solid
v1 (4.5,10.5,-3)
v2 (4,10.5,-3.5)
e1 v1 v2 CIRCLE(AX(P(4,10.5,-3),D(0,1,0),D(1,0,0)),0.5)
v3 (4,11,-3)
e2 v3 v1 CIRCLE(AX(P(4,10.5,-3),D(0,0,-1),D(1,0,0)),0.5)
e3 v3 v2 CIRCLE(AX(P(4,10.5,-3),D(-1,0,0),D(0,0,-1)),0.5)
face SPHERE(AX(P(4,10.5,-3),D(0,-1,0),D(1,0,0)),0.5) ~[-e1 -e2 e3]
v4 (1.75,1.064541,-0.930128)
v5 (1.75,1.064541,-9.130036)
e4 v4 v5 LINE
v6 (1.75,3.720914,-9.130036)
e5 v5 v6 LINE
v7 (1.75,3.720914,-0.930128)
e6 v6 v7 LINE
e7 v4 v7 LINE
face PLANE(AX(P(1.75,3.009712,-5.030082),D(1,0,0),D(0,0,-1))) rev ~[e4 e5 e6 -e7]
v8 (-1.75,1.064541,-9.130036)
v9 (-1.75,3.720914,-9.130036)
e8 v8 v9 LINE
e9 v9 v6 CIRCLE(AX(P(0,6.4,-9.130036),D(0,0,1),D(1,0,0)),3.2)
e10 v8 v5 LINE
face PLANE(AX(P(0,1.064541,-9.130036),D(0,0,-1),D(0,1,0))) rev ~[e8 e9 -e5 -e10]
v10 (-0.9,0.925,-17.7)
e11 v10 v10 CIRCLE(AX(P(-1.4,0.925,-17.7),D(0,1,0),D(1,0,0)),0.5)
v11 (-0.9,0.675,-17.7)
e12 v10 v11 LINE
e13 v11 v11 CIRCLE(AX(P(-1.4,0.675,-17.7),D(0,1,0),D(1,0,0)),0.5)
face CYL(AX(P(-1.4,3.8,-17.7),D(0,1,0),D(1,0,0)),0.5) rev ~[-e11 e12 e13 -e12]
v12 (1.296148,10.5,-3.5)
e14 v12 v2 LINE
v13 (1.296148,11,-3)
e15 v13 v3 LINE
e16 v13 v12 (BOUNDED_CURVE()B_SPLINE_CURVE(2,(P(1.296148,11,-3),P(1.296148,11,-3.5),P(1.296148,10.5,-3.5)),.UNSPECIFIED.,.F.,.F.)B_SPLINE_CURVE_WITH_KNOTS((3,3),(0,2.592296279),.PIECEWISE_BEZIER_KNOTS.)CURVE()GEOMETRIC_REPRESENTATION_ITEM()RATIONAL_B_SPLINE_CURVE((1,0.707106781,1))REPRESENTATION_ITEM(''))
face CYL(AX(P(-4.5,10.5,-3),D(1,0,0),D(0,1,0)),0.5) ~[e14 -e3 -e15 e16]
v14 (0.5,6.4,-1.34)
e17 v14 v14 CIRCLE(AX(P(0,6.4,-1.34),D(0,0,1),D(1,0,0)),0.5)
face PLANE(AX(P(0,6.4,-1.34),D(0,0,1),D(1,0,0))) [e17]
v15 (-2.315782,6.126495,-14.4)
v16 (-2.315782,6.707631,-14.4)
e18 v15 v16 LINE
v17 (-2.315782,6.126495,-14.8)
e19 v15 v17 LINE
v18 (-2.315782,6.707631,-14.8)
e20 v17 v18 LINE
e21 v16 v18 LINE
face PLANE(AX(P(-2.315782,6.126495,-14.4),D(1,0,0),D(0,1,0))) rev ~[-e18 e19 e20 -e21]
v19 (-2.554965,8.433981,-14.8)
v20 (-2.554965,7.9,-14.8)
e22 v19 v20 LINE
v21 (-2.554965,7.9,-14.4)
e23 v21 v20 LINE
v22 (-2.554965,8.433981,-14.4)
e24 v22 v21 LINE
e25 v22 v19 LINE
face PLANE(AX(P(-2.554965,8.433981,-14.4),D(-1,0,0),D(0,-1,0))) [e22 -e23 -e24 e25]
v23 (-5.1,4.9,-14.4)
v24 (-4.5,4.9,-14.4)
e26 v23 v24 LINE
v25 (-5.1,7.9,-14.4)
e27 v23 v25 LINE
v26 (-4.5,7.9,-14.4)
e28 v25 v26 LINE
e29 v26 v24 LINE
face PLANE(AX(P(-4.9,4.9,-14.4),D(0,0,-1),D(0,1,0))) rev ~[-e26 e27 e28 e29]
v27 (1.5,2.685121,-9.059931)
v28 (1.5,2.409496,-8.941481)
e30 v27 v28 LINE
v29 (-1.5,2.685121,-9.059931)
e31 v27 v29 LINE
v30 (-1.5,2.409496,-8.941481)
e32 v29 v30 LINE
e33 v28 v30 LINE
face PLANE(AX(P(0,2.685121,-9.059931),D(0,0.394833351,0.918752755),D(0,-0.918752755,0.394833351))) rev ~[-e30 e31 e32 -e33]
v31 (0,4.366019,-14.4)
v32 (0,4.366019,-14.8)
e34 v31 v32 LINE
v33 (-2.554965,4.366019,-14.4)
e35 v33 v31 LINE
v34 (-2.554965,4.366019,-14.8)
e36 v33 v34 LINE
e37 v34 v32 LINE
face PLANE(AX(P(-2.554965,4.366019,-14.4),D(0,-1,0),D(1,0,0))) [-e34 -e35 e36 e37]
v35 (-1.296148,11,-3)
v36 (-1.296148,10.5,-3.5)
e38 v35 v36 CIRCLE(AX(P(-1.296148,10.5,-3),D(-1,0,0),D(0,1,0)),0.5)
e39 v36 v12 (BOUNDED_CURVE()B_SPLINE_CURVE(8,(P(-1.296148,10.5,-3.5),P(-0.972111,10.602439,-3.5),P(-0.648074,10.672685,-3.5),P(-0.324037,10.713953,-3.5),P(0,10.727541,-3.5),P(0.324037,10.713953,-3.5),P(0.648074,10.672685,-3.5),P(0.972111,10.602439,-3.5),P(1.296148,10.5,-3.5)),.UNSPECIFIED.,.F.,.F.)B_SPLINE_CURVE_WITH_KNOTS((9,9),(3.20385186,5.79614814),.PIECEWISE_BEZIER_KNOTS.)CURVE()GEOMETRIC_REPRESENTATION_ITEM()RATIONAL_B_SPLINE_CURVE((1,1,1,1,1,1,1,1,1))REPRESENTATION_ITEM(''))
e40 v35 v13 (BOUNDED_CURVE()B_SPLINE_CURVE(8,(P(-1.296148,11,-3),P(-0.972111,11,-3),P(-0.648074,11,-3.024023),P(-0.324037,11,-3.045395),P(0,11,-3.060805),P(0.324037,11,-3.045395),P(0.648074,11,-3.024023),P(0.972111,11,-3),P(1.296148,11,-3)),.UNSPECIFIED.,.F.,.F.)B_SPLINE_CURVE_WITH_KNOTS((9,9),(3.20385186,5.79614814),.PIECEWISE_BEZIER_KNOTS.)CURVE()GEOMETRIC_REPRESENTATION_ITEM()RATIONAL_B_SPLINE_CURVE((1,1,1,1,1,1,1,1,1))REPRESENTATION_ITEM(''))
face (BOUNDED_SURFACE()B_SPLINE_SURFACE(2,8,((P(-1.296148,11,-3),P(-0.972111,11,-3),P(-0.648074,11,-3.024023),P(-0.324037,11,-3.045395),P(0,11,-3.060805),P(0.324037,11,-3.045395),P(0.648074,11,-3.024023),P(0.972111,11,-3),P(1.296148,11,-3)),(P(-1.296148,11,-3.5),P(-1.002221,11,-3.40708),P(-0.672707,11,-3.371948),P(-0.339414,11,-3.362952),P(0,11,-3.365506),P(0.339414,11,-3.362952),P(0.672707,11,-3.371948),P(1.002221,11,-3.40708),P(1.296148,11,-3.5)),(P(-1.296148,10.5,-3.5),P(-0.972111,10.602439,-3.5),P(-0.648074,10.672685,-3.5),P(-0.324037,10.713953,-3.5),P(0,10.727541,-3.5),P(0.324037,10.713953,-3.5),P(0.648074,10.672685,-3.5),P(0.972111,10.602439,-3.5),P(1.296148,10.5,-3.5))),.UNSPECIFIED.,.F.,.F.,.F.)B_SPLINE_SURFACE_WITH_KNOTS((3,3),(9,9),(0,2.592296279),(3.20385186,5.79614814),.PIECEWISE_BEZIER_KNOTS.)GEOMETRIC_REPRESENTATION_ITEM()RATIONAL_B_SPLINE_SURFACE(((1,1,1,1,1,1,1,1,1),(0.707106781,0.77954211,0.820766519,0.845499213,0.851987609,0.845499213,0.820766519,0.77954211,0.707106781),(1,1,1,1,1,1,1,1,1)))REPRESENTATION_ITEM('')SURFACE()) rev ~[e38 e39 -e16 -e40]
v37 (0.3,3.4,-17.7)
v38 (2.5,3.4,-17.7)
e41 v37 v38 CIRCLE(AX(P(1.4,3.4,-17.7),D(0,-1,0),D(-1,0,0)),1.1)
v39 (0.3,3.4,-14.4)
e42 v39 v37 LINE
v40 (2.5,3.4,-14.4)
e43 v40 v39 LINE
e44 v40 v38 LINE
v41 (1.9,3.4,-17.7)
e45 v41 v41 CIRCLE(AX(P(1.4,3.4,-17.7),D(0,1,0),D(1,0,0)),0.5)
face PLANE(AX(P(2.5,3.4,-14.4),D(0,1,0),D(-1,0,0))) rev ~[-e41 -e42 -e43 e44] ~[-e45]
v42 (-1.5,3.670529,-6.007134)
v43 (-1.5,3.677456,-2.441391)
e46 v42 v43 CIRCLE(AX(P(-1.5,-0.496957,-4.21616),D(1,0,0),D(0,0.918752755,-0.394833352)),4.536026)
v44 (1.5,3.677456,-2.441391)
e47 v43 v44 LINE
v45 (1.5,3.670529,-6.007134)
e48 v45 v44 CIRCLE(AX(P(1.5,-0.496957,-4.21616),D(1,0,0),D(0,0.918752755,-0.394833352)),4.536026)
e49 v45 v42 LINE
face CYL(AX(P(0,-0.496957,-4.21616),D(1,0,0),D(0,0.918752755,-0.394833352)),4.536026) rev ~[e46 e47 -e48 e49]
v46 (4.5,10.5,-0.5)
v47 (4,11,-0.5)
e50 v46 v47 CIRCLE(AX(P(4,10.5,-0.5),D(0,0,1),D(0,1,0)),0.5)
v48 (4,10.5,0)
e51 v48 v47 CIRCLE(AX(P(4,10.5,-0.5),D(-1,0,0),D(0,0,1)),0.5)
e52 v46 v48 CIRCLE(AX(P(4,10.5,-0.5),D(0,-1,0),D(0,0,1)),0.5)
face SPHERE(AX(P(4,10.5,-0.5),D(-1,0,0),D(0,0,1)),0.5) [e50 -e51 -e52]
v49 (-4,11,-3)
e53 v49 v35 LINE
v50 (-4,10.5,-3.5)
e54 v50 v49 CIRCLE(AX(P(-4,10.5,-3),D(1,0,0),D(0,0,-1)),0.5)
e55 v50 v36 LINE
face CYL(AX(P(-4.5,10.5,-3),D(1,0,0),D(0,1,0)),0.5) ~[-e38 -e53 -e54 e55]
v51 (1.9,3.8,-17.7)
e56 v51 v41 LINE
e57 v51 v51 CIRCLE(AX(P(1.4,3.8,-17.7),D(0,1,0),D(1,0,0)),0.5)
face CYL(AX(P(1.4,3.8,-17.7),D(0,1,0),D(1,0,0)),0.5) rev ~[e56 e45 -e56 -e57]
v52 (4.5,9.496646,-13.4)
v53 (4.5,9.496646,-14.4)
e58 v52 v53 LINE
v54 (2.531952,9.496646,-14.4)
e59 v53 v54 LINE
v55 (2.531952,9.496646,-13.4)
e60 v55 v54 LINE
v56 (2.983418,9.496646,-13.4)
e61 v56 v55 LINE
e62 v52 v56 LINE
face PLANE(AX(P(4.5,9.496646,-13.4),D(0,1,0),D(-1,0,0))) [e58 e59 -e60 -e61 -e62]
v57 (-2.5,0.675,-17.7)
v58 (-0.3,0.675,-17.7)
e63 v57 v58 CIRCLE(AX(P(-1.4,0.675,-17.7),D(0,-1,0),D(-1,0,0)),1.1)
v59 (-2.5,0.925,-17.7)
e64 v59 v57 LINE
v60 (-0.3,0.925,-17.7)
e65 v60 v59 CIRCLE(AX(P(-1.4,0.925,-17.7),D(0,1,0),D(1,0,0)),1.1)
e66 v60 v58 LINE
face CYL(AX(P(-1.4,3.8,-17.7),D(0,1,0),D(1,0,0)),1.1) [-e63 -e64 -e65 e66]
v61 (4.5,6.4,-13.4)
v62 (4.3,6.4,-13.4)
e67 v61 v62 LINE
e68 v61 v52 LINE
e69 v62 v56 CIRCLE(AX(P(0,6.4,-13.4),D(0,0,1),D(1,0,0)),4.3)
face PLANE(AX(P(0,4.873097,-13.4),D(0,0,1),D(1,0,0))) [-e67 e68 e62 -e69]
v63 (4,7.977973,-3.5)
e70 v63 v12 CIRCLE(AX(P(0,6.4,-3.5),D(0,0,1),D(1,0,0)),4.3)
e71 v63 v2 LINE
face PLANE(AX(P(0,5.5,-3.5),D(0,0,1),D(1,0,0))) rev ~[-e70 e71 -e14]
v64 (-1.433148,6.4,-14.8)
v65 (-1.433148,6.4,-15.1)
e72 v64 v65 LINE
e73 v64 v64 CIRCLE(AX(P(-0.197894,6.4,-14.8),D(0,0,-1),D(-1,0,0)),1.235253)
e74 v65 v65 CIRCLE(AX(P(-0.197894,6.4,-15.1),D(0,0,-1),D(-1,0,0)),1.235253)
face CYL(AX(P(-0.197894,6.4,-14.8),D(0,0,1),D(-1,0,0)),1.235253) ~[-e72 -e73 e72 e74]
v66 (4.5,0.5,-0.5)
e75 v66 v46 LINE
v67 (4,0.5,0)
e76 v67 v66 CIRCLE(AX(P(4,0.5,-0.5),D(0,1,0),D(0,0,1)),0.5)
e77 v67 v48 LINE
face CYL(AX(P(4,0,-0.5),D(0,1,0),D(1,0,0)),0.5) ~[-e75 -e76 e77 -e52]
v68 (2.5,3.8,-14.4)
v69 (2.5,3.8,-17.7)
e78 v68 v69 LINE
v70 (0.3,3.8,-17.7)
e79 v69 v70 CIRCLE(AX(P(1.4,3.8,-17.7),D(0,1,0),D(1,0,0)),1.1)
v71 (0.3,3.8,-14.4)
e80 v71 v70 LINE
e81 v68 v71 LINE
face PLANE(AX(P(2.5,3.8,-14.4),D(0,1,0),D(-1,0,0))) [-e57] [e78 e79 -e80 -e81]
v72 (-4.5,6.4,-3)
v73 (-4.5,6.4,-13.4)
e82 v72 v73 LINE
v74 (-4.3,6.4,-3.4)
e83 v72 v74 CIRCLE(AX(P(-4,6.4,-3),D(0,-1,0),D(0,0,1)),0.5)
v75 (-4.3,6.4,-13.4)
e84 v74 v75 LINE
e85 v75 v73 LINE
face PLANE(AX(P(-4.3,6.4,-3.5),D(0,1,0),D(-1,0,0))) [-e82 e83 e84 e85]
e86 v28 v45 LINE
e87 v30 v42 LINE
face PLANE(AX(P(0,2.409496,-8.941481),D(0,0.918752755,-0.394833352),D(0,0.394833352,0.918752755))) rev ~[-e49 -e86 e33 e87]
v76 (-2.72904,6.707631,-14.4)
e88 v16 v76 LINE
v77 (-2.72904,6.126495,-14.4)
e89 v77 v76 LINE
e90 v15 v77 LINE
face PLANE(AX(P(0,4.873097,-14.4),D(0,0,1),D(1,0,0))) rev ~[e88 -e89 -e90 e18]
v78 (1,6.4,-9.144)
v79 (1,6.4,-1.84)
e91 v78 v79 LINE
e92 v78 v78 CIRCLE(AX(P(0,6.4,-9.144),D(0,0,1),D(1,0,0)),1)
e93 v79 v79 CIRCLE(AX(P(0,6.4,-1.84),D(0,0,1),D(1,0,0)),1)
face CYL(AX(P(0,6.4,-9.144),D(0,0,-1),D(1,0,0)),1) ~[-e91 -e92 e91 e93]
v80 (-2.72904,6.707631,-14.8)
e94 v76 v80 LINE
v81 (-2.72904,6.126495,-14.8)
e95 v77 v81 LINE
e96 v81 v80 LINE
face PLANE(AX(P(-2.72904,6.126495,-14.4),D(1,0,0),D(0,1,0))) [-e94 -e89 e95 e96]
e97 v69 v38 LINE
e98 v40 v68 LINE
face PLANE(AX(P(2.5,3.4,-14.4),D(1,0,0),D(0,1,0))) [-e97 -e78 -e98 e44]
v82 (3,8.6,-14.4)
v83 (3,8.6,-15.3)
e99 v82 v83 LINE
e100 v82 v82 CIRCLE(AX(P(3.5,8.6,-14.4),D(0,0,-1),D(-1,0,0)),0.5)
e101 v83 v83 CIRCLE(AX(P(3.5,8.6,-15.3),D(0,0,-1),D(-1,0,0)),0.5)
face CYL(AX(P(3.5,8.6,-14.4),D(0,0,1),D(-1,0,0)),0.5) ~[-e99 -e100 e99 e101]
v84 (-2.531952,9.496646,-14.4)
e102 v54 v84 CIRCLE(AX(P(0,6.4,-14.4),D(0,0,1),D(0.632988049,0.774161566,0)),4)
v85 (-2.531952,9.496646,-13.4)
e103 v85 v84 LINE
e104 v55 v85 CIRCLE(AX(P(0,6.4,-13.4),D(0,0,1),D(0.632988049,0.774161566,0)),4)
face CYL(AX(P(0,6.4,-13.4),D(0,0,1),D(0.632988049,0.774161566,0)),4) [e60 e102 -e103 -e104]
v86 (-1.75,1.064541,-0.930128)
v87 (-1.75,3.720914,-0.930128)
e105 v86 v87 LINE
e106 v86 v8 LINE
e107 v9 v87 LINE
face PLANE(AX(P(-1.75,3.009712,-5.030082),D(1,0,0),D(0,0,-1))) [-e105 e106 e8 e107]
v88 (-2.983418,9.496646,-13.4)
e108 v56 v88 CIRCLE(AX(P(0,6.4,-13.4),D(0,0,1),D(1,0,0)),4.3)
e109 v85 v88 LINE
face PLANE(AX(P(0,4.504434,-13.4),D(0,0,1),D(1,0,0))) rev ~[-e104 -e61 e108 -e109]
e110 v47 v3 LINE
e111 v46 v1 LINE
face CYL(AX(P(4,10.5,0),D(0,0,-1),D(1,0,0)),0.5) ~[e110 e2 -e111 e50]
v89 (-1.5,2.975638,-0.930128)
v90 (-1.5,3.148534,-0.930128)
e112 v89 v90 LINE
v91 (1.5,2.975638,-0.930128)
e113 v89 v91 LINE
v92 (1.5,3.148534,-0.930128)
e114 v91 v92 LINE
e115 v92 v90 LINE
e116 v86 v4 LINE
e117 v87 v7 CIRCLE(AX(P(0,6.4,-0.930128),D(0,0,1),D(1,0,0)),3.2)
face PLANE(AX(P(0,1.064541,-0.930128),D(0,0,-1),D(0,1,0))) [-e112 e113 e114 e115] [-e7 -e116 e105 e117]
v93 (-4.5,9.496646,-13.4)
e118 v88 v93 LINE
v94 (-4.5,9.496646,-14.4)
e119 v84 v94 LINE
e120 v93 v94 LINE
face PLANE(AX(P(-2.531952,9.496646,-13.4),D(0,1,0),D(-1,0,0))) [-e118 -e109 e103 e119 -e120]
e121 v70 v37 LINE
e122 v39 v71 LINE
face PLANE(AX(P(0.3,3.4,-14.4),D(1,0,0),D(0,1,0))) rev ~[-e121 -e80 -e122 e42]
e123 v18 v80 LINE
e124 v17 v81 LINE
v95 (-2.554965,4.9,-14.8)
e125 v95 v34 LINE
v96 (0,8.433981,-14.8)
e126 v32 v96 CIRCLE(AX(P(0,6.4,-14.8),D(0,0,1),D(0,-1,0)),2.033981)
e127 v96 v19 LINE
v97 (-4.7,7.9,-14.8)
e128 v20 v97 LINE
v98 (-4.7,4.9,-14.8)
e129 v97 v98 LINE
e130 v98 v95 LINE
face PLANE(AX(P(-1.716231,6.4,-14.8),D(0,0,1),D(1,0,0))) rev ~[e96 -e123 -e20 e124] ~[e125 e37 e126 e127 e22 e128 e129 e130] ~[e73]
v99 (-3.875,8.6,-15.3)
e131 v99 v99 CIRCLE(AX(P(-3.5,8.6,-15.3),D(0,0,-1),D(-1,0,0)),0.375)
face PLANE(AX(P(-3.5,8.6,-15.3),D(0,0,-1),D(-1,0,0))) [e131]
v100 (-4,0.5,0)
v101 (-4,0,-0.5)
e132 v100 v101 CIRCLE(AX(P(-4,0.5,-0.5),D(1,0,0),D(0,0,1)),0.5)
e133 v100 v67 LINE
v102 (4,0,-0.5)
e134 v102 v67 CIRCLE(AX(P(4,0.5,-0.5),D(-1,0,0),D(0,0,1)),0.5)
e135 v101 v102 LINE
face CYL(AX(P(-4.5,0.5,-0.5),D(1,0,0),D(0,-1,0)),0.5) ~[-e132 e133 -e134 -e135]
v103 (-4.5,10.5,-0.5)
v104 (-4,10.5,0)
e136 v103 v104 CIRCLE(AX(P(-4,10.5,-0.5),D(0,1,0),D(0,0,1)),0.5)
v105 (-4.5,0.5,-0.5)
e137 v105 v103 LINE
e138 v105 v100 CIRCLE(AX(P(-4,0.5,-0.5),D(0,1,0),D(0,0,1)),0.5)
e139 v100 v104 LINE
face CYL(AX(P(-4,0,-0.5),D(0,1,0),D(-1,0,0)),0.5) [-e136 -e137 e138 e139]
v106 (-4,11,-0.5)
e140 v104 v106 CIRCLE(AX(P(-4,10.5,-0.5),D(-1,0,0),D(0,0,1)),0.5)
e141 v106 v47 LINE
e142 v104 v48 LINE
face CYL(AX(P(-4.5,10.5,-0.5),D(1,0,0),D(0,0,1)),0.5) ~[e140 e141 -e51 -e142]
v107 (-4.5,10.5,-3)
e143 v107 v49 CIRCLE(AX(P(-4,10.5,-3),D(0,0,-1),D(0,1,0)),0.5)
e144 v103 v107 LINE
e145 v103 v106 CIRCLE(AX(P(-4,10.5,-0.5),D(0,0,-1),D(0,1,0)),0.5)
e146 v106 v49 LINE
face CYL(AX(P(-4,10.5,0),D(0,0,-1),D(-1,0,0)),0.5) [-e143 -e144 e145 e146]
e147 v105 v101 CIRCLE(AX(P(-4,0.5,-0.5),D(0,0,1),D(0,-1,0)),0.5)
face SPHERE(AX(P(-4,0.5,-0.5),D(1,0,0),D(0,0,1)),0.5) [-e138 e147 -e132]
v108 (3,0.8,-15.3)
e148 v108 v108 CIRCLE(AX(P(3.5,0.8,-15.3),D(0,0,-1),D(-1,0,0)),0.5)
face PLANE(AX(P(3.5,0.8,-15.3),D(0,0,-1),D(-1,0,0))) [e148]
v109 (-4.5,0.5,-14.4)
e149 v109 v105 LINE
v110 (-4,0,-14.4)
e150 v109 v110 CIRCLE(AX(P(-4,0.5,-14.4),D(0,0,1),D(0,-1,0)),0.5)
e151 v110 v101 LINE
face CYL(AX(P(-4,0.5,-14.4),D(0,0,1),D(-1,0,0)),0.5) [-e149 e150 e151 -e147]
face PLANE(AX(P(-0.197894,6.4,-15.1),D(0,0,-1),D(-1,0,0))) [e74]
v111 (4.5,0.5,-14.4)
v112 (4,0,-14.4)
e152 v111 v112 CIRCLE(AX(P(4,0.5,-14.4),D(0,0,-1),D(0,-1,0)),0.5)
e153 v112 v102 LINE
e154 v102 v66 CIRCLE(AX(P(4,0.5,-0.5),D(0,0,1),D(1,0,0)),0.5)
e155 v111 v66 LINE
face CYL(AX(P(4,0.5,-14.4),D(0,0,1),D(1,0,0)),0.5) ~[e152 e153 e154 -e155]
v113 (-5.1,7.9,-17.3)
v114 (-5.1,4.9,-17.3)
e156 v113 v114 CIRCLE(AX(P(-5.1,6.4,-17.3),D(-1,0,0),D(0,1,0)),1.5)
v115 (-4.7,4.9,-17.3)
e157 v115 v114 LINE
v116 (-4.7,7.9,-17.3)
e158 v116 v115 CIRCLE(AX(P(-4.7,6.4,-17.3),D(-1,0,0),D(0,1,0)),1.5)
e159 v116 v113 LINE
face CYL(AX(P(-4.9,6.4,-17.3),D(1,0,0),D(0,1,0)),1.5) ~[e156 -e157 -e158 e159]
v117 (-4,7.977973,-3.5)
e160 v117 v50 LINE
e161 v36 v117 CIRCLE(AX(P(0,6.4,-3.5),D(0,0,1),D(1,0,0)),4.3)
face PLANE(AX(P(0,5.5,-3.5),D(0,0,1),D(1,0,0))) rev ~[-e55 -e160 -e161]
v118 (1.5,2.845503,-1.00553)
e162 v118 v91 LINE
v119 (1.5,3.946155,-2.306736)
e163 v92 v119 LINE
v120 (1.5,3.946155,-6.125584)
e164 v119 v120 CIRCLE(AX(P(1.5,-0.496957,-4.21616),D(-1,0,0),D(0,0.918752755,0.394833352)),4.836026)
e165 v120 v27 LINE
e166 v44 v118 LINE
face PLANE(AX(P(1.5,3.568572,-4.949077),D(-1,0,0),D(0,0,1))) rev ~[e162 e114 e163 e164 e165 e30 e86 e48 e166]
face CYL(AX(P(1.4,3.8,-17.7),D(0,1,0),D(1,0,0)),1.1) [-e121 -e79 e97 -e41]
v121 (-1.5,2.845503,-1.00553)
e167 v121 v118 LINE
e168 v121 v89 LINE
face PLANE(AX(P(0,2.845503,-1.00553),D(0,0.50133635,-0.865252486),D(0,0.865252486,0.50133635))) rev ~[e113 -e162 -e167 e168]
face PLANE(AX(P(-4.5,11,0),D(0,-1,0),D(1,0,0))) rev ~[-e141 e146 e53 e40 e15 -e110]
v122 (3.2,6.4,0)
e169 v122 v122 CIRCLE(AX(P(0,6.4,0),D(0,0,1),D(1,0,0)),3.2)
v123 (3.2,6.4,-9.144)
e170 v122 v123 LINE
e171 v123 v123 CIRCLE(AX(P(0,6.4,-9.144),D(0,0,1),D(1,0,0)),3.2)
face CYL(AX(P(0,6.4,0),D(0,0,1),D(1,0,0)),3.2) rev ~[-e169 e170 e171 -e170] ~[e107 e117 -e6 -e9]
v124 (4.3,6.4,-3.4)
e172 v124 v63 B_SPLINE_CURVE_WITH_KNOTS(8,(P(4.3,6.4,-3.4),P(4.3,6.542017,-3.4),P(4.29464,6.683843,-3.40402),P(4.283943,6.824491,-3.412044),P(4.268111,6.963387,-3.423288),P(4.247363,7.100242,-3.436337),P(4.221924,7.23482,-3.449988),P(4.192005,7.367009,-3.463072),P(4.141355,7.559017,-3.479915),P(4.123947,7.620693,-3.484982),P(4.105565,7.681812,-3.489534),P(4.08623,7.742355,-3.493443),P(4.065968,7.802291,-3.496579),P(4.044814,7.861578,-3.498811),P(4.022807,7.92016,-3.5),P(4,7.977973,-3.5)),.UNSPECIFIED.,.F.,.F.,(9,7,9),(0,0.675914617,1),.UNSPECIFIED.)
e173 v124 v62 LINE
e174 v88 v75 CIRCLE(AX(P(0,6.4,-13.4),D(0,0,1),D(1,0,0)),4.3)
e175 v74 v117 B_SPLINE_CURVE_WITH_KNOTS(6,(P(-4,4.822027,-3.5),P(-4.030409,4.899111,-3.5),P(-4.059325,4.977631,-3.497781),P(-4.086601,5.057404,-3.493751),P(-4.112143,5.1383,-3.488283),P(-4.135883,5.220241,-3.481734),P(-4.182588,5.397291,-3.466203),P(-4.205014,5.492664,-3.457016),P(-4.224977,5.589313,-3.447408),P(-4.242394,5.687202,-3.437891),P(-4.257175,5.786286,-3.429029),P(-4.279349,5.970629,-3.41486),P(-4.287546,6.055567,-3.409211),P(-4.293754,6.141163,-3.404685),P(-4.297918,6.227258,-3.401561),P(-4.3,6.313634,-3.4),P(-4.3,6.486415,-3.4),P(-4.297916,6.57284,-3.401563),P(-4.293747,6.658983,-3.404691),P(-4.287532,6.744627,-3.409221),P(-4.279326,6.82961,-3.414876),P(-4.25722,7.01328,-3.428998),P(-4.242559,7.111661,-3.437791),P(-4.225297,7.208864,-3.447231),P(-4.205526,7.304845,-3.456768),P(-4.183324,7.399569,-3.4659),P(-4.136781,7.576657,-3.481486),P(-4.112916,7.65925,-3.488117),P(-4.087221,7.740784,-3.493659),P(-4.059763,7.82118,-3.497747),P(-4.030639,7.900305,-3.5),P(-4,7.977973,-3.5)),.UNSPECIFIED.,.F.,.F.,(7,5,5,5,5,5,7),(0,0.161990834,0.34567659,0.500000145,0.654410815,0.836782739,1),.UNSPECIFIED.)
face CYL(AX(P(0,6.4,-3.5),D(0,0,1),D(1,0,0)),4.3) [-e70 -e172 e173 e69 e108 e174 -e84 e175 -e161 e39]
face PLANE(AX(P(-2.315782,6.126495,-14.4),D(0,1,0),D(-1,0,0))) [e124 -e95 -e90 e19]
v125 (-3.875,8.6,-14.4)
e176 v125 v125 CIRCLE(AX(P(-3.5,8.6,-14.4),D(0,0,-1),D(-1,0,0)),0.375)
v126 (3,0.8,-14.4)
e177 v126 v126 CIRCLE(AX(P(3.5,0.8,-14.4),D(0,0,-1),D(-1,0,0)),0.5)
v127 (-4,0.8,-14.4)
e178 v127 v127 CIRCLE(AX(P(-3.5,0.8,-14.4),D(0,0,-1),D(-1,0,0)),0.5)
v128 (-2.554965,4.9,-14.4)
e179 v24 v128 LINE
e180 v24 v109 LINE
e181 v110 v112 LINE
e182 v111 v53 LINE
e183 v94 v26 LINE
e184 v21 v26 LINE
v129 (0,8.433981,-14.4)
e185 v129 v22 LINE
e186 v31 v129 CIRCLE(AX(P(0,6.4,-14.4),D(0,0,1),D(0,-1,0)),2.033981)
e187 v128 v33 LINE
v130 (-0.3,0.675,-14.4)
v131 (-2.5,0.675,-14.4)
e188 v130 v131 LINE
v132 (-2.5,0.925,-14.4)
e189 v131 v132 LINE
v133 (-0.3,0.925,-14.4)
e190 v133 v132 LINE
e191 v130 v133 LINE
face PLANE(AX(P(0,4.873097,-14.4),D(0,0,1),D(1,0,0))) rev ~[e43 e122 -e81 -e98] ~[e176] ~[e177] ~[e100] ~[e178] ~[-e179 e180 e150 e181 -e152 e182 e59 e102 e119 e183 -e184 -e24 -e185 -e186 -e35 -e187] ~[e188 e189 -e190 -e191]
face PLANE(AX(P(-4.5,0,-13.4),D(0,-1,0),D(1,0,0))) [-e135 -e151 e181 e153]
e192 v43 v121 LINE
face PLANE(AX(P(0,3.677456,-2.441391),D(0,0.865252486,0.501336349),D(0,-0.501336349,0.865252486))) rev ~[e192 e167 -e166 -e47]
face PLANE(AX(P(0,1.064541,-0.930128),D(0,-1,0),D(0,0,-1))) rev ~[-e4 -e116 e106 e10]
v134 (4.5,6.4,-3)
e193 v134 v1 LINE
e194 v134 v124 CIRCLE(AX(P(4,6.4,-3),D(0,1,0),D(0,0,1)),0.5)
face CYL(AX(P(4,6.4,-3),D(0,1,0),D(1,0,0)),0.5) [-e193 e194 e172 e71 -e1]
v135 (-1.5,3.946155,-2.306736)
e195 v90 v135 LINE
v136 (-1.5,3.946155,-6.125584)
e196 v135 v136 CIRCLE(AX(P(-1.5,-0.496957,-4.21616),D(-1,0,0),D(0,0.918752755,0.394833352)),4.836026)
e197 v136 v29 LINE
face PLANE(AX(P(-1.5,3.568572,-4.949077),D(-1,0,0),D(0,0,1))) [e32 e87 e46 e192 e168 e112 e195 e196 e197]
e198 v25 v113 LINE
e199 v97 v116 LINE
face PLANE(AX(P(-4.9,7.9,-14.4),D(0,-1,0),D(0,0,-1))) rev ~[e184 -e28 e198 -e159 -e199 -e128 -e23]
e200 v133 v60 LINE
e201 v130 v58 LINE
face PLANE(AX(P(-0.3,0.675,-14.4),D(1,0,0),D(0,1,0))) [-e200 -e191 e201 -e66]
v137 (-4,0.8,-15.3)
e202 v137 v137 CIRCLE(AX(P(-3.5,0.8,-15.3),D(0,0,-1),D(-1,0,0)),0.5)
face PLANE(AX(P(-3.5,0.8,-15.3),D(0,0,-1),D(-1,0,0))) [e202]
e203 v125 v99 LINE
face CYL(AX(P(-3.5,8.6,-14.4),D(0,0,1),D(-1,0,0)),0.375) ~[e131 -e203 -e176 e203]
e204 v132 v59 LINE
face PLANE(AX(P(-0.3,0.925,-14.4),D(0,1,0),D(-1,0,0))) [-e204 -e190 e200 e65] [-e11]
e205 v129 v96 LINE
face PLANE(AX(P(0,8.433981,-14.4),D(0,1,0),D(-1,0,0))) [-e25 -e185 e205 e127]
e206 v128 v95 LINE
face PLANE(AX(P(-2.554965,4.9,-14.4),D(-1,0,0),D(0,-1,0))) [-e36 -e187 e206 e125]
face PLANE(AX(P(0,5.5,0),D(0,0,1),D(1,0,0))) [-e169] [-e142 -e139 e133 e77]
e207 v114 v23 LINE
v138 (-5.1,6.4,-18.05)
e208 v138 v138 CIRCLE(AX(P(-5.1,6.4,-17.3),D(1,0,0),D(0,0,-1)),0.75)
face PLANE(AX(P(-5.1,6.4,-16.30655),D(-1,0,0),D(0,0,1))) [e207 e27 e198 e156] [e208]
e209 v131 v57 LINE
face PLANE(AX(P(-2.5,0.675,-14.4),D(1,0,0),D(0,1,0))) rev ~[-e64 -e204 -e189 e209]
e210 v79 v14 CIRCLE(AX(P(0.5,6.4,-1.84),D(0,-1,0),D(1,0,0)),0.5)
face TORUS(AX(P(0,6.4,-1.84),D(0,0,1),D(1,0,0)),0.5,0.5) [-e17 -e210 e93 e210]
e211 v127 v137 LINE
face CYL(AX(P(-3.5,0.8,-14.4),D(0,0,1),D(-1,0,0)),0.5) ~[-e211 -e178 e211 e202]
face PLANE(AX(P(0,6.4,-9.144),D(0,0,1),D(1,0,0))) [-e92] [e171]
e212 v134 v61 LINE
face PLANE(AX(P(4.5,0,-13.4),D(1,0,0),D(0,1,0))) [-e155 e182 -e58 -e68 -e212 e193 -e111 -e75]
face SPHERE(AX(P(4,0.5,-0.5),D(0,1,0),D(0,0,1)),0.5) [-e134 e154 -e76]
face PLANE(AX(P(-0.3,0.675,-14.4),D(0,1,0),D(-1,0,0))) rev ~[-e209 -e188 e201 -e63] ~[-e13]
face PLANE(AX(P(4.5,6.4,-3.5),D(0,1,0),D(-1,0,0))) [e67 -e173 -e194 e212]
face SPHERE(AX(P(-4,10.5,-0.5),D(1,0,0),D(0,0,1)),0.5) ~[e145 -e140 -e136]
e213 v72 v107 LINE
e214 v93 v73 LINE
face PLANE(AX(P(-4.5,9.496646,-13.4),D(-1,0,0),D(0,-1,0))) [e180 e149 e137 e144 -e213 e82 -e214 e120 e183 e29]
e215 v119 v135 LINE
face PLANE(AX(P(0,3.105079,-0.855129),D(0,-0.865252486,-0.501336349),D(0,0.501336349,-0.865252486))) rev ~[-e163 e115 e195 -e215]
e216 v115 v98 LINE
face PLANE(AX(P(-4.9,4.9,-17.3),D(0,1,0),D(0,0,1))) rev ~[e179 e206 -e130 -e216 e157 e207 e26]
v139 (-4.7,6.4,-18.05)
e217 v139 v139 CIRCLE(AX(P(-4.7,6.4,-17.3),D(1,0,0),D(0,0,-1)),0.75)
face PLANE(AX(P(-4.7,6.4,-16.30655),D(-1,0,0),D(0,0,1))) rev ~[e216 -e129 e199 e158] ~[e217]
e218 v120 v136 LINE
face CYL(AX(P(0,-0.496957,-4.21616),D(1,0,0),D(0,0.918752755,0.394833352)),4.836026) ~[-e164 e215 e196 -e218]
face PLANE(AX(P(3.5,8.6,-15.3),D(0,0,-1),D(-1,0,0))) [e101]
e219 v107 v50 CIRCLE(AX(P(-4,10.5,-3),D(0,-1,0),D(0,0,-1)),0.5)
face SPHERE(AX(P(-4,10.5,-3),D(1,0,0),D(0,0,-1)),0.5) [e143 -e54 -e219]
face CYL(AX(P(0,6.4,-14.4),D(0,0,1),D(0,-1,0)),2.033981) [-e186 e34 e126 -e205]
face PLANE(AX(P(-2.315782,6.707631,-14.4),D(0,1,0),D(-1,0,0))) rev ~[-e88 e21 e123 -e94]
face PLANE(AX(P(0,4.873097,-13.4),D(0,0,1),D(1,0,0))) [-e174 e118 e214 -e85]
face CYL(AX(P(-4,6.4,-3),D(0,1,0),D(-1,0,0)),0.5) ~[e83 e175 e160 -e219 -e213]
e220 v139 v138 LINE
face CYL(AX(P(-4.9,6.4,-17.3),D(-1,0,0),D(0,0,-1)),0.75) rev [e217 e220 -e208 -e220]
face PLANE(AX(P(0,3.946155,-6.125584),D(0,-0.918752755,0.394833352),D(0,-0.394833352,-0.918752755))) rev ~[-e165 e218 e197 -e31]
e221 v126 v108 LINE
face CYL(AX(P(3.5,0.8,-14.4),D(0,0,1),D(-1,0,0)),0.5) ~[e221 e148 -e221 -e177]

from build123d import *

# Parameters (mm, degrees)
SKETCH1_W           = 9
SKETCH1_H           = 11
BASE_EXTRUDE_DEPTH  = 3.5
BOSS_EXTRUDE1_DEPTH = 9.9
SKETCH3_R           = 3.2
CUT_EXTRUDE1_DEPTH  = 9.144
SKETCH4_R           = 1
EXTRUDE1_DEPTH      = 7.804
FILLET1_R           = 0.5
BOSS_EXTRUDE2_DEPTH = 1
SKETCH22_W          = 0.413257786
SKETCH22_H          = 0.581135983
BOSS_EXTRUDE3_DEPTH = 0.4
SKETCH23_R          = 0.5
SKETCH23_R_2        = 0.375
BOSS_EXTRUDE4_DEPTH = 0.9
SKETCH24_W          = 2.2
SKETCH24_H          = 0.4
SKETCH24_H_2        = 0.25
BOSS_EXTRUDE5_DEPTH = 4.4
SKETCH5_R           = 0.75
EXTRUDE2_DEPTH      = 0.2
SKETCH25_R          = 0.5
CUT_EXTRUDE5_DEPTH  = 12.2
SKETCH26_R          = 1.235253259
BOSS_EXTRUDE6_DEPTH = 0.3
FILLET2_R           = 0.5
SKETCH28_W          = 8.199907687
SKETCH28_H          = 3.89034232
CUT_EXTRUDE6_DEPTH  = 1.75
BOSS_EXTRUDE7_DEPTH = 1.5


with BuildPart() as part:
    # Sketch1 → Base-Extrude (new body)
    with BuildSketch(Plane.XY):
        with Locations((0, 5.5)):
            Rectangle(SKETCH1_W, SKETCH1_H)
    extrude(amount=-BASE_EXTRUDE_DEPTH)

    # Sketch2 → Boss-Extrude1 (add)
    with BuildSketch(Plane(origin=(0, 0, -3.5), x_dir=(-1, 0, 0), z_dir=(0, 0, -1))):
        with BuildLine():
            Line((-4.5, 0), (-4.5, 6.4))
            Line((-4.5, 6.4), (-4.3, 6.4))
            ThreePointArc((-4.3, 6.4), (0, 10.7), (4.3, 6.4))
            Line((4.3, 6.4), (4.5, 6.4))
            Line((4.5, 6.4), (4.5, 0))
            Line((4.5, 0), (-4.5, 0))
        make_face()
    extrude(amount=BOSS_EXTRUDE1_DEPTH)

    # Sketch3 → Cut-Extrude1 (cut)
    with BuildSketch(Plane.XY):
        with Locations((0, 6.4)):
            Circle(SKETCH3_R)
    extrude(amount=-CUT_EXTRUDE1_DEPTH, mode=Mode.SUBTRACT)

    # Sketch4 → Extrude1 (add)
    with BuildSketch(Plane.XY.offset(-9.144)):
        with Locations((0, 6.4)):
            Circle(SKETCH4_R)
    extrude(amount=EXTRUDE1_DEPTH)

    # Fillet1
    fillet1_edges = [part.edges().sort_by_distance(p)[0] for p in [
        (-1, 6.4, -1.34),
    ]]
    fillet(fillet1_edges, radius=FILLET1_R)

    # Sketch21 → Boss-Extrude2 (add)
    with BuildSketch(Plane(origin=(0, 0, -13.4), x_dir=(-1, 0, 0), z_dir=(0, 0, -1))):
        with BuildLine():
            Line((2.531952195, 9.496646264), (4.5, 9.496646264))
            Line((4.5, 9.496646264), (4.5, 6.4))
            Line((4.5, 6.4), (4.5, 0))
            Line((4.5, 0), (-4.5, 0))
            Line((-4.5, 0), (-4.5, 6.4))
            Line((-4.5, 6.4), (-4.5, 9.496646264))
            Line((-4.5, 9.496646264), (-2.531952195, 9.496646264))
            ThreePointArc((-2.531952195, 9.496646264), (0, 10.4), (2.531952195, 9.496646264))
        make_face()
    extrude(amount=BOSS_EXTRUDE2_DEPTH)

    # Sketch22 → Boss-Extrude3 (add)
    with BuildSketch(Plane(origin=(0, 0, -14.4), x_dir=(-1, 0, 0), z_dir=(0, 0, -1))):
        with BuildLine():
            Line((2.55496541, 7.9), (4.9, 7.9))
            Line((4.9, 7.9), (4.9, 4.9))
            Line((4.9, 4.9), (2.55496541, 4.9))
            Line((2.55496541, 4.9), (2.55496541, 4.366018911))
            Line((2.55496541, 4.366018911), (0, 4.366018911))
            ThreePointArc((0, 4.366018911), (-2.033981089, 6.4), (0, 8.433981089))
            Line((0, 8.433981089), (2.55496541, 8.433981089))
            Line((2.55496541, 8.433981089), (2.55496541, 7.9))
        make_face()
        with Locations((2.522410809, 6.417062755)):
            Rectangle(SKETCH22_W, SKETCH22_H, mode=Mode.SUBTRACT)
    extrude(amount=BOSS_EXTRUDE3_DEPTH)

    # Sketch23 → Boss-Extrude4 (add)
    with BuildSketch(Plane(origin=(0, 0, -14.4), x_dir=(-1, 0, 0), z_dir=(0, 0, -1))):
        with Locations((-3.5, 0.8)):
            Circle(SKETCH23_R)
        with Locations((3.5, 0.8)):
            Circle(SKETCH23_R)
        with Locations((-3.5, 8.6)):
            Circle(SKETCH23_R)
        with Locations((3.5, 8.6)):
            Circle(SKETCH23_R_2)
    extrude(amount=BOSS_EXTRUDE4_DEPTH)

    # Sketch24 → Boss-Extrude5 (add)
    with BuildSketch(Plane(origin=(0, 0, -14.4), x_dir=(-1, 0, 0), z_dir=(0, 0, -1))):
        with Locations((-1.4, 3.6)):
            Rectangle(SKETCH24_W, SKETCH24_H)
        with Locations((1.4, 0.8)):
            Rectangle(SKETCH24_W, SKETCH24_H_2)
    extrude(amount=BOSS_EXTRUDE5_DEPTH)

    # Sketch5 → Extrude2 (add, symmetric)
    with BuildSketch(Plane(origin=(-4.9, 0, 0), x_dir=(0, 0, -1), z_dir=(1, 0, 0))):
        with BuildLine():
            Line((14.4, 7.9), (17.3, 7.9))
            ThreePointArc((17.3, 7.9), (18.8, 6.4), (17.3, 4.9))
            Line((17.3, 4.9), (14.4, 4.9))
            Line((14.4, 4.9), (14.4, 7.9))
        make_face()
        with Locations((17.3, 6.4)):
            Circle(SKETCH5_R, mode=Mode.SUBTRACT)
    extrude(amount=EXTRUDE2_DEPTH, both=True)

    # Sketch25 → Cut-Extrude5 (cut)
    with BuildSketch(Plane(origin=(0, 3.8, 0), x_dir=(1, 0, 0), z_dir=(0, 1, 0))):
        with Locations((-1.4, 17.7)):
            Circle(SKETCH25_R)
        with Locations((1.4, 17.7)):
            Circle(SKETCH25_R)
        with BuildLine():
            Line((0.3, 17.7), (0.3, 18.8))
            Line((0.3, 18.8), (1.814838084, 19.127754717))
            Line((1.814838084, 19.127754717), (2.5, 18.8))
            Line((2.5, 18.8), (2.5, 17.7))
            ThreePointArc((2.5, 17.7), (1.4, 18.8), (0.3, 17.7))
        make_face()
        with BuildLine():
            Line((-2.5, 17.7), (-2.5, 18.8))
            Line((-2.5, 18.8), (-1.388936506, 19.127754717))
            Line((-1.388936506, 19.127754717), (-0.3, 18.8))
            Line((-0.3, 18.8), (-0.3, 17.7))
            ThreePointArc((-0.3, 17.7), (-1.4, 18.8), (-2.5, 17.7))
        make_face()
    extrude(amount=-CUT_EXTRUDE5_DEPTH, mode=Mode.SUBTRACT)

    # Sketch26 → Boss-Extrude6 (add)
    with BuildSketch(Plane(origin=(0, 0, -14.8), x_dir=(-1, 0, 0), z_dir=(0, 0, -1))):
        with Locations((0.197894438, 6.4)):
            Circle(SKETCH26_R)
    extrude(amount=BOSS_EXTRUDE6_DEPTH)

    # Fillet2
    fillet2_edges = [part.edges().sort_by_distance(p)[0] for p in [
        (0, 11, 0),
        (4.5, 5.5, 0),
        (0, 0, 0),
        (-4.5, 5.5, 0),
        (4.5, 8.7, -3.5),
        (4.5, 0, -7.2),
        (-4.5, 0, -7.2),
        (4.5, 11, -1.75),
        (0, 11, -3.5),
        (-4.5, 8.7, -3.5),
        (-4.5, 11, -1.75),
    ]]
    fillet(fillet2_edges, radius=FILLET2_R)

    # Sketch28 → Cut-Extrude6 (cut, symmetric)
    with BuildSketch(Plane(origin=(0, 0, 0), x_dir=(0, 0, -1), z_dir=(1, 0, 0))):
        with Locations((5.030081863, 3.009711686)):
            Rectangle(SKETCH28_W, SKETCH28_H)
    extrude(amount=CUT_EXTRUDE6_DEPTH, both=True, mode=Mode.SUBTRACT)

    # Sketch27 → Boss-Extrude7 (add, symmetric)
    with BuildSketch(Plane(origin=(0, 0, 0), x_dir=(0, 0, -1), z_dir=(1, 0, 0))):
        with BuildLine():
            Line((0.855128644, 3.105078739), (2.30673576, 3.9461551))
            ThreePointArc((2.30673576, 3.9461551), (4.216159937, 4.339068854), (6.125584114, 3.9461551))
            Line((6.125584114, 3.9461551), (9.059931405, 2.68512141))
            Line((9.059931405, 2.68512141), (8.9414814, 2.409495584))
            Line((8.9414814, 2.409495584), (6.007134108, 3.670529274))
            ThreePointArc((6.007134108, 3.670529274), (4.224971911, 4.039060295), (2.441391305, 3.677456327))
            Line((2.441391305, 3.677456327), (1.005529549, 2.845502993))
            Line((1.005529549, 2.845502993), (0.855128644, 3.105078739))
        make_face()
    extrude(amount=BOSS_EXTRUDE7_DEPTH, both=True)


solid = part.part
